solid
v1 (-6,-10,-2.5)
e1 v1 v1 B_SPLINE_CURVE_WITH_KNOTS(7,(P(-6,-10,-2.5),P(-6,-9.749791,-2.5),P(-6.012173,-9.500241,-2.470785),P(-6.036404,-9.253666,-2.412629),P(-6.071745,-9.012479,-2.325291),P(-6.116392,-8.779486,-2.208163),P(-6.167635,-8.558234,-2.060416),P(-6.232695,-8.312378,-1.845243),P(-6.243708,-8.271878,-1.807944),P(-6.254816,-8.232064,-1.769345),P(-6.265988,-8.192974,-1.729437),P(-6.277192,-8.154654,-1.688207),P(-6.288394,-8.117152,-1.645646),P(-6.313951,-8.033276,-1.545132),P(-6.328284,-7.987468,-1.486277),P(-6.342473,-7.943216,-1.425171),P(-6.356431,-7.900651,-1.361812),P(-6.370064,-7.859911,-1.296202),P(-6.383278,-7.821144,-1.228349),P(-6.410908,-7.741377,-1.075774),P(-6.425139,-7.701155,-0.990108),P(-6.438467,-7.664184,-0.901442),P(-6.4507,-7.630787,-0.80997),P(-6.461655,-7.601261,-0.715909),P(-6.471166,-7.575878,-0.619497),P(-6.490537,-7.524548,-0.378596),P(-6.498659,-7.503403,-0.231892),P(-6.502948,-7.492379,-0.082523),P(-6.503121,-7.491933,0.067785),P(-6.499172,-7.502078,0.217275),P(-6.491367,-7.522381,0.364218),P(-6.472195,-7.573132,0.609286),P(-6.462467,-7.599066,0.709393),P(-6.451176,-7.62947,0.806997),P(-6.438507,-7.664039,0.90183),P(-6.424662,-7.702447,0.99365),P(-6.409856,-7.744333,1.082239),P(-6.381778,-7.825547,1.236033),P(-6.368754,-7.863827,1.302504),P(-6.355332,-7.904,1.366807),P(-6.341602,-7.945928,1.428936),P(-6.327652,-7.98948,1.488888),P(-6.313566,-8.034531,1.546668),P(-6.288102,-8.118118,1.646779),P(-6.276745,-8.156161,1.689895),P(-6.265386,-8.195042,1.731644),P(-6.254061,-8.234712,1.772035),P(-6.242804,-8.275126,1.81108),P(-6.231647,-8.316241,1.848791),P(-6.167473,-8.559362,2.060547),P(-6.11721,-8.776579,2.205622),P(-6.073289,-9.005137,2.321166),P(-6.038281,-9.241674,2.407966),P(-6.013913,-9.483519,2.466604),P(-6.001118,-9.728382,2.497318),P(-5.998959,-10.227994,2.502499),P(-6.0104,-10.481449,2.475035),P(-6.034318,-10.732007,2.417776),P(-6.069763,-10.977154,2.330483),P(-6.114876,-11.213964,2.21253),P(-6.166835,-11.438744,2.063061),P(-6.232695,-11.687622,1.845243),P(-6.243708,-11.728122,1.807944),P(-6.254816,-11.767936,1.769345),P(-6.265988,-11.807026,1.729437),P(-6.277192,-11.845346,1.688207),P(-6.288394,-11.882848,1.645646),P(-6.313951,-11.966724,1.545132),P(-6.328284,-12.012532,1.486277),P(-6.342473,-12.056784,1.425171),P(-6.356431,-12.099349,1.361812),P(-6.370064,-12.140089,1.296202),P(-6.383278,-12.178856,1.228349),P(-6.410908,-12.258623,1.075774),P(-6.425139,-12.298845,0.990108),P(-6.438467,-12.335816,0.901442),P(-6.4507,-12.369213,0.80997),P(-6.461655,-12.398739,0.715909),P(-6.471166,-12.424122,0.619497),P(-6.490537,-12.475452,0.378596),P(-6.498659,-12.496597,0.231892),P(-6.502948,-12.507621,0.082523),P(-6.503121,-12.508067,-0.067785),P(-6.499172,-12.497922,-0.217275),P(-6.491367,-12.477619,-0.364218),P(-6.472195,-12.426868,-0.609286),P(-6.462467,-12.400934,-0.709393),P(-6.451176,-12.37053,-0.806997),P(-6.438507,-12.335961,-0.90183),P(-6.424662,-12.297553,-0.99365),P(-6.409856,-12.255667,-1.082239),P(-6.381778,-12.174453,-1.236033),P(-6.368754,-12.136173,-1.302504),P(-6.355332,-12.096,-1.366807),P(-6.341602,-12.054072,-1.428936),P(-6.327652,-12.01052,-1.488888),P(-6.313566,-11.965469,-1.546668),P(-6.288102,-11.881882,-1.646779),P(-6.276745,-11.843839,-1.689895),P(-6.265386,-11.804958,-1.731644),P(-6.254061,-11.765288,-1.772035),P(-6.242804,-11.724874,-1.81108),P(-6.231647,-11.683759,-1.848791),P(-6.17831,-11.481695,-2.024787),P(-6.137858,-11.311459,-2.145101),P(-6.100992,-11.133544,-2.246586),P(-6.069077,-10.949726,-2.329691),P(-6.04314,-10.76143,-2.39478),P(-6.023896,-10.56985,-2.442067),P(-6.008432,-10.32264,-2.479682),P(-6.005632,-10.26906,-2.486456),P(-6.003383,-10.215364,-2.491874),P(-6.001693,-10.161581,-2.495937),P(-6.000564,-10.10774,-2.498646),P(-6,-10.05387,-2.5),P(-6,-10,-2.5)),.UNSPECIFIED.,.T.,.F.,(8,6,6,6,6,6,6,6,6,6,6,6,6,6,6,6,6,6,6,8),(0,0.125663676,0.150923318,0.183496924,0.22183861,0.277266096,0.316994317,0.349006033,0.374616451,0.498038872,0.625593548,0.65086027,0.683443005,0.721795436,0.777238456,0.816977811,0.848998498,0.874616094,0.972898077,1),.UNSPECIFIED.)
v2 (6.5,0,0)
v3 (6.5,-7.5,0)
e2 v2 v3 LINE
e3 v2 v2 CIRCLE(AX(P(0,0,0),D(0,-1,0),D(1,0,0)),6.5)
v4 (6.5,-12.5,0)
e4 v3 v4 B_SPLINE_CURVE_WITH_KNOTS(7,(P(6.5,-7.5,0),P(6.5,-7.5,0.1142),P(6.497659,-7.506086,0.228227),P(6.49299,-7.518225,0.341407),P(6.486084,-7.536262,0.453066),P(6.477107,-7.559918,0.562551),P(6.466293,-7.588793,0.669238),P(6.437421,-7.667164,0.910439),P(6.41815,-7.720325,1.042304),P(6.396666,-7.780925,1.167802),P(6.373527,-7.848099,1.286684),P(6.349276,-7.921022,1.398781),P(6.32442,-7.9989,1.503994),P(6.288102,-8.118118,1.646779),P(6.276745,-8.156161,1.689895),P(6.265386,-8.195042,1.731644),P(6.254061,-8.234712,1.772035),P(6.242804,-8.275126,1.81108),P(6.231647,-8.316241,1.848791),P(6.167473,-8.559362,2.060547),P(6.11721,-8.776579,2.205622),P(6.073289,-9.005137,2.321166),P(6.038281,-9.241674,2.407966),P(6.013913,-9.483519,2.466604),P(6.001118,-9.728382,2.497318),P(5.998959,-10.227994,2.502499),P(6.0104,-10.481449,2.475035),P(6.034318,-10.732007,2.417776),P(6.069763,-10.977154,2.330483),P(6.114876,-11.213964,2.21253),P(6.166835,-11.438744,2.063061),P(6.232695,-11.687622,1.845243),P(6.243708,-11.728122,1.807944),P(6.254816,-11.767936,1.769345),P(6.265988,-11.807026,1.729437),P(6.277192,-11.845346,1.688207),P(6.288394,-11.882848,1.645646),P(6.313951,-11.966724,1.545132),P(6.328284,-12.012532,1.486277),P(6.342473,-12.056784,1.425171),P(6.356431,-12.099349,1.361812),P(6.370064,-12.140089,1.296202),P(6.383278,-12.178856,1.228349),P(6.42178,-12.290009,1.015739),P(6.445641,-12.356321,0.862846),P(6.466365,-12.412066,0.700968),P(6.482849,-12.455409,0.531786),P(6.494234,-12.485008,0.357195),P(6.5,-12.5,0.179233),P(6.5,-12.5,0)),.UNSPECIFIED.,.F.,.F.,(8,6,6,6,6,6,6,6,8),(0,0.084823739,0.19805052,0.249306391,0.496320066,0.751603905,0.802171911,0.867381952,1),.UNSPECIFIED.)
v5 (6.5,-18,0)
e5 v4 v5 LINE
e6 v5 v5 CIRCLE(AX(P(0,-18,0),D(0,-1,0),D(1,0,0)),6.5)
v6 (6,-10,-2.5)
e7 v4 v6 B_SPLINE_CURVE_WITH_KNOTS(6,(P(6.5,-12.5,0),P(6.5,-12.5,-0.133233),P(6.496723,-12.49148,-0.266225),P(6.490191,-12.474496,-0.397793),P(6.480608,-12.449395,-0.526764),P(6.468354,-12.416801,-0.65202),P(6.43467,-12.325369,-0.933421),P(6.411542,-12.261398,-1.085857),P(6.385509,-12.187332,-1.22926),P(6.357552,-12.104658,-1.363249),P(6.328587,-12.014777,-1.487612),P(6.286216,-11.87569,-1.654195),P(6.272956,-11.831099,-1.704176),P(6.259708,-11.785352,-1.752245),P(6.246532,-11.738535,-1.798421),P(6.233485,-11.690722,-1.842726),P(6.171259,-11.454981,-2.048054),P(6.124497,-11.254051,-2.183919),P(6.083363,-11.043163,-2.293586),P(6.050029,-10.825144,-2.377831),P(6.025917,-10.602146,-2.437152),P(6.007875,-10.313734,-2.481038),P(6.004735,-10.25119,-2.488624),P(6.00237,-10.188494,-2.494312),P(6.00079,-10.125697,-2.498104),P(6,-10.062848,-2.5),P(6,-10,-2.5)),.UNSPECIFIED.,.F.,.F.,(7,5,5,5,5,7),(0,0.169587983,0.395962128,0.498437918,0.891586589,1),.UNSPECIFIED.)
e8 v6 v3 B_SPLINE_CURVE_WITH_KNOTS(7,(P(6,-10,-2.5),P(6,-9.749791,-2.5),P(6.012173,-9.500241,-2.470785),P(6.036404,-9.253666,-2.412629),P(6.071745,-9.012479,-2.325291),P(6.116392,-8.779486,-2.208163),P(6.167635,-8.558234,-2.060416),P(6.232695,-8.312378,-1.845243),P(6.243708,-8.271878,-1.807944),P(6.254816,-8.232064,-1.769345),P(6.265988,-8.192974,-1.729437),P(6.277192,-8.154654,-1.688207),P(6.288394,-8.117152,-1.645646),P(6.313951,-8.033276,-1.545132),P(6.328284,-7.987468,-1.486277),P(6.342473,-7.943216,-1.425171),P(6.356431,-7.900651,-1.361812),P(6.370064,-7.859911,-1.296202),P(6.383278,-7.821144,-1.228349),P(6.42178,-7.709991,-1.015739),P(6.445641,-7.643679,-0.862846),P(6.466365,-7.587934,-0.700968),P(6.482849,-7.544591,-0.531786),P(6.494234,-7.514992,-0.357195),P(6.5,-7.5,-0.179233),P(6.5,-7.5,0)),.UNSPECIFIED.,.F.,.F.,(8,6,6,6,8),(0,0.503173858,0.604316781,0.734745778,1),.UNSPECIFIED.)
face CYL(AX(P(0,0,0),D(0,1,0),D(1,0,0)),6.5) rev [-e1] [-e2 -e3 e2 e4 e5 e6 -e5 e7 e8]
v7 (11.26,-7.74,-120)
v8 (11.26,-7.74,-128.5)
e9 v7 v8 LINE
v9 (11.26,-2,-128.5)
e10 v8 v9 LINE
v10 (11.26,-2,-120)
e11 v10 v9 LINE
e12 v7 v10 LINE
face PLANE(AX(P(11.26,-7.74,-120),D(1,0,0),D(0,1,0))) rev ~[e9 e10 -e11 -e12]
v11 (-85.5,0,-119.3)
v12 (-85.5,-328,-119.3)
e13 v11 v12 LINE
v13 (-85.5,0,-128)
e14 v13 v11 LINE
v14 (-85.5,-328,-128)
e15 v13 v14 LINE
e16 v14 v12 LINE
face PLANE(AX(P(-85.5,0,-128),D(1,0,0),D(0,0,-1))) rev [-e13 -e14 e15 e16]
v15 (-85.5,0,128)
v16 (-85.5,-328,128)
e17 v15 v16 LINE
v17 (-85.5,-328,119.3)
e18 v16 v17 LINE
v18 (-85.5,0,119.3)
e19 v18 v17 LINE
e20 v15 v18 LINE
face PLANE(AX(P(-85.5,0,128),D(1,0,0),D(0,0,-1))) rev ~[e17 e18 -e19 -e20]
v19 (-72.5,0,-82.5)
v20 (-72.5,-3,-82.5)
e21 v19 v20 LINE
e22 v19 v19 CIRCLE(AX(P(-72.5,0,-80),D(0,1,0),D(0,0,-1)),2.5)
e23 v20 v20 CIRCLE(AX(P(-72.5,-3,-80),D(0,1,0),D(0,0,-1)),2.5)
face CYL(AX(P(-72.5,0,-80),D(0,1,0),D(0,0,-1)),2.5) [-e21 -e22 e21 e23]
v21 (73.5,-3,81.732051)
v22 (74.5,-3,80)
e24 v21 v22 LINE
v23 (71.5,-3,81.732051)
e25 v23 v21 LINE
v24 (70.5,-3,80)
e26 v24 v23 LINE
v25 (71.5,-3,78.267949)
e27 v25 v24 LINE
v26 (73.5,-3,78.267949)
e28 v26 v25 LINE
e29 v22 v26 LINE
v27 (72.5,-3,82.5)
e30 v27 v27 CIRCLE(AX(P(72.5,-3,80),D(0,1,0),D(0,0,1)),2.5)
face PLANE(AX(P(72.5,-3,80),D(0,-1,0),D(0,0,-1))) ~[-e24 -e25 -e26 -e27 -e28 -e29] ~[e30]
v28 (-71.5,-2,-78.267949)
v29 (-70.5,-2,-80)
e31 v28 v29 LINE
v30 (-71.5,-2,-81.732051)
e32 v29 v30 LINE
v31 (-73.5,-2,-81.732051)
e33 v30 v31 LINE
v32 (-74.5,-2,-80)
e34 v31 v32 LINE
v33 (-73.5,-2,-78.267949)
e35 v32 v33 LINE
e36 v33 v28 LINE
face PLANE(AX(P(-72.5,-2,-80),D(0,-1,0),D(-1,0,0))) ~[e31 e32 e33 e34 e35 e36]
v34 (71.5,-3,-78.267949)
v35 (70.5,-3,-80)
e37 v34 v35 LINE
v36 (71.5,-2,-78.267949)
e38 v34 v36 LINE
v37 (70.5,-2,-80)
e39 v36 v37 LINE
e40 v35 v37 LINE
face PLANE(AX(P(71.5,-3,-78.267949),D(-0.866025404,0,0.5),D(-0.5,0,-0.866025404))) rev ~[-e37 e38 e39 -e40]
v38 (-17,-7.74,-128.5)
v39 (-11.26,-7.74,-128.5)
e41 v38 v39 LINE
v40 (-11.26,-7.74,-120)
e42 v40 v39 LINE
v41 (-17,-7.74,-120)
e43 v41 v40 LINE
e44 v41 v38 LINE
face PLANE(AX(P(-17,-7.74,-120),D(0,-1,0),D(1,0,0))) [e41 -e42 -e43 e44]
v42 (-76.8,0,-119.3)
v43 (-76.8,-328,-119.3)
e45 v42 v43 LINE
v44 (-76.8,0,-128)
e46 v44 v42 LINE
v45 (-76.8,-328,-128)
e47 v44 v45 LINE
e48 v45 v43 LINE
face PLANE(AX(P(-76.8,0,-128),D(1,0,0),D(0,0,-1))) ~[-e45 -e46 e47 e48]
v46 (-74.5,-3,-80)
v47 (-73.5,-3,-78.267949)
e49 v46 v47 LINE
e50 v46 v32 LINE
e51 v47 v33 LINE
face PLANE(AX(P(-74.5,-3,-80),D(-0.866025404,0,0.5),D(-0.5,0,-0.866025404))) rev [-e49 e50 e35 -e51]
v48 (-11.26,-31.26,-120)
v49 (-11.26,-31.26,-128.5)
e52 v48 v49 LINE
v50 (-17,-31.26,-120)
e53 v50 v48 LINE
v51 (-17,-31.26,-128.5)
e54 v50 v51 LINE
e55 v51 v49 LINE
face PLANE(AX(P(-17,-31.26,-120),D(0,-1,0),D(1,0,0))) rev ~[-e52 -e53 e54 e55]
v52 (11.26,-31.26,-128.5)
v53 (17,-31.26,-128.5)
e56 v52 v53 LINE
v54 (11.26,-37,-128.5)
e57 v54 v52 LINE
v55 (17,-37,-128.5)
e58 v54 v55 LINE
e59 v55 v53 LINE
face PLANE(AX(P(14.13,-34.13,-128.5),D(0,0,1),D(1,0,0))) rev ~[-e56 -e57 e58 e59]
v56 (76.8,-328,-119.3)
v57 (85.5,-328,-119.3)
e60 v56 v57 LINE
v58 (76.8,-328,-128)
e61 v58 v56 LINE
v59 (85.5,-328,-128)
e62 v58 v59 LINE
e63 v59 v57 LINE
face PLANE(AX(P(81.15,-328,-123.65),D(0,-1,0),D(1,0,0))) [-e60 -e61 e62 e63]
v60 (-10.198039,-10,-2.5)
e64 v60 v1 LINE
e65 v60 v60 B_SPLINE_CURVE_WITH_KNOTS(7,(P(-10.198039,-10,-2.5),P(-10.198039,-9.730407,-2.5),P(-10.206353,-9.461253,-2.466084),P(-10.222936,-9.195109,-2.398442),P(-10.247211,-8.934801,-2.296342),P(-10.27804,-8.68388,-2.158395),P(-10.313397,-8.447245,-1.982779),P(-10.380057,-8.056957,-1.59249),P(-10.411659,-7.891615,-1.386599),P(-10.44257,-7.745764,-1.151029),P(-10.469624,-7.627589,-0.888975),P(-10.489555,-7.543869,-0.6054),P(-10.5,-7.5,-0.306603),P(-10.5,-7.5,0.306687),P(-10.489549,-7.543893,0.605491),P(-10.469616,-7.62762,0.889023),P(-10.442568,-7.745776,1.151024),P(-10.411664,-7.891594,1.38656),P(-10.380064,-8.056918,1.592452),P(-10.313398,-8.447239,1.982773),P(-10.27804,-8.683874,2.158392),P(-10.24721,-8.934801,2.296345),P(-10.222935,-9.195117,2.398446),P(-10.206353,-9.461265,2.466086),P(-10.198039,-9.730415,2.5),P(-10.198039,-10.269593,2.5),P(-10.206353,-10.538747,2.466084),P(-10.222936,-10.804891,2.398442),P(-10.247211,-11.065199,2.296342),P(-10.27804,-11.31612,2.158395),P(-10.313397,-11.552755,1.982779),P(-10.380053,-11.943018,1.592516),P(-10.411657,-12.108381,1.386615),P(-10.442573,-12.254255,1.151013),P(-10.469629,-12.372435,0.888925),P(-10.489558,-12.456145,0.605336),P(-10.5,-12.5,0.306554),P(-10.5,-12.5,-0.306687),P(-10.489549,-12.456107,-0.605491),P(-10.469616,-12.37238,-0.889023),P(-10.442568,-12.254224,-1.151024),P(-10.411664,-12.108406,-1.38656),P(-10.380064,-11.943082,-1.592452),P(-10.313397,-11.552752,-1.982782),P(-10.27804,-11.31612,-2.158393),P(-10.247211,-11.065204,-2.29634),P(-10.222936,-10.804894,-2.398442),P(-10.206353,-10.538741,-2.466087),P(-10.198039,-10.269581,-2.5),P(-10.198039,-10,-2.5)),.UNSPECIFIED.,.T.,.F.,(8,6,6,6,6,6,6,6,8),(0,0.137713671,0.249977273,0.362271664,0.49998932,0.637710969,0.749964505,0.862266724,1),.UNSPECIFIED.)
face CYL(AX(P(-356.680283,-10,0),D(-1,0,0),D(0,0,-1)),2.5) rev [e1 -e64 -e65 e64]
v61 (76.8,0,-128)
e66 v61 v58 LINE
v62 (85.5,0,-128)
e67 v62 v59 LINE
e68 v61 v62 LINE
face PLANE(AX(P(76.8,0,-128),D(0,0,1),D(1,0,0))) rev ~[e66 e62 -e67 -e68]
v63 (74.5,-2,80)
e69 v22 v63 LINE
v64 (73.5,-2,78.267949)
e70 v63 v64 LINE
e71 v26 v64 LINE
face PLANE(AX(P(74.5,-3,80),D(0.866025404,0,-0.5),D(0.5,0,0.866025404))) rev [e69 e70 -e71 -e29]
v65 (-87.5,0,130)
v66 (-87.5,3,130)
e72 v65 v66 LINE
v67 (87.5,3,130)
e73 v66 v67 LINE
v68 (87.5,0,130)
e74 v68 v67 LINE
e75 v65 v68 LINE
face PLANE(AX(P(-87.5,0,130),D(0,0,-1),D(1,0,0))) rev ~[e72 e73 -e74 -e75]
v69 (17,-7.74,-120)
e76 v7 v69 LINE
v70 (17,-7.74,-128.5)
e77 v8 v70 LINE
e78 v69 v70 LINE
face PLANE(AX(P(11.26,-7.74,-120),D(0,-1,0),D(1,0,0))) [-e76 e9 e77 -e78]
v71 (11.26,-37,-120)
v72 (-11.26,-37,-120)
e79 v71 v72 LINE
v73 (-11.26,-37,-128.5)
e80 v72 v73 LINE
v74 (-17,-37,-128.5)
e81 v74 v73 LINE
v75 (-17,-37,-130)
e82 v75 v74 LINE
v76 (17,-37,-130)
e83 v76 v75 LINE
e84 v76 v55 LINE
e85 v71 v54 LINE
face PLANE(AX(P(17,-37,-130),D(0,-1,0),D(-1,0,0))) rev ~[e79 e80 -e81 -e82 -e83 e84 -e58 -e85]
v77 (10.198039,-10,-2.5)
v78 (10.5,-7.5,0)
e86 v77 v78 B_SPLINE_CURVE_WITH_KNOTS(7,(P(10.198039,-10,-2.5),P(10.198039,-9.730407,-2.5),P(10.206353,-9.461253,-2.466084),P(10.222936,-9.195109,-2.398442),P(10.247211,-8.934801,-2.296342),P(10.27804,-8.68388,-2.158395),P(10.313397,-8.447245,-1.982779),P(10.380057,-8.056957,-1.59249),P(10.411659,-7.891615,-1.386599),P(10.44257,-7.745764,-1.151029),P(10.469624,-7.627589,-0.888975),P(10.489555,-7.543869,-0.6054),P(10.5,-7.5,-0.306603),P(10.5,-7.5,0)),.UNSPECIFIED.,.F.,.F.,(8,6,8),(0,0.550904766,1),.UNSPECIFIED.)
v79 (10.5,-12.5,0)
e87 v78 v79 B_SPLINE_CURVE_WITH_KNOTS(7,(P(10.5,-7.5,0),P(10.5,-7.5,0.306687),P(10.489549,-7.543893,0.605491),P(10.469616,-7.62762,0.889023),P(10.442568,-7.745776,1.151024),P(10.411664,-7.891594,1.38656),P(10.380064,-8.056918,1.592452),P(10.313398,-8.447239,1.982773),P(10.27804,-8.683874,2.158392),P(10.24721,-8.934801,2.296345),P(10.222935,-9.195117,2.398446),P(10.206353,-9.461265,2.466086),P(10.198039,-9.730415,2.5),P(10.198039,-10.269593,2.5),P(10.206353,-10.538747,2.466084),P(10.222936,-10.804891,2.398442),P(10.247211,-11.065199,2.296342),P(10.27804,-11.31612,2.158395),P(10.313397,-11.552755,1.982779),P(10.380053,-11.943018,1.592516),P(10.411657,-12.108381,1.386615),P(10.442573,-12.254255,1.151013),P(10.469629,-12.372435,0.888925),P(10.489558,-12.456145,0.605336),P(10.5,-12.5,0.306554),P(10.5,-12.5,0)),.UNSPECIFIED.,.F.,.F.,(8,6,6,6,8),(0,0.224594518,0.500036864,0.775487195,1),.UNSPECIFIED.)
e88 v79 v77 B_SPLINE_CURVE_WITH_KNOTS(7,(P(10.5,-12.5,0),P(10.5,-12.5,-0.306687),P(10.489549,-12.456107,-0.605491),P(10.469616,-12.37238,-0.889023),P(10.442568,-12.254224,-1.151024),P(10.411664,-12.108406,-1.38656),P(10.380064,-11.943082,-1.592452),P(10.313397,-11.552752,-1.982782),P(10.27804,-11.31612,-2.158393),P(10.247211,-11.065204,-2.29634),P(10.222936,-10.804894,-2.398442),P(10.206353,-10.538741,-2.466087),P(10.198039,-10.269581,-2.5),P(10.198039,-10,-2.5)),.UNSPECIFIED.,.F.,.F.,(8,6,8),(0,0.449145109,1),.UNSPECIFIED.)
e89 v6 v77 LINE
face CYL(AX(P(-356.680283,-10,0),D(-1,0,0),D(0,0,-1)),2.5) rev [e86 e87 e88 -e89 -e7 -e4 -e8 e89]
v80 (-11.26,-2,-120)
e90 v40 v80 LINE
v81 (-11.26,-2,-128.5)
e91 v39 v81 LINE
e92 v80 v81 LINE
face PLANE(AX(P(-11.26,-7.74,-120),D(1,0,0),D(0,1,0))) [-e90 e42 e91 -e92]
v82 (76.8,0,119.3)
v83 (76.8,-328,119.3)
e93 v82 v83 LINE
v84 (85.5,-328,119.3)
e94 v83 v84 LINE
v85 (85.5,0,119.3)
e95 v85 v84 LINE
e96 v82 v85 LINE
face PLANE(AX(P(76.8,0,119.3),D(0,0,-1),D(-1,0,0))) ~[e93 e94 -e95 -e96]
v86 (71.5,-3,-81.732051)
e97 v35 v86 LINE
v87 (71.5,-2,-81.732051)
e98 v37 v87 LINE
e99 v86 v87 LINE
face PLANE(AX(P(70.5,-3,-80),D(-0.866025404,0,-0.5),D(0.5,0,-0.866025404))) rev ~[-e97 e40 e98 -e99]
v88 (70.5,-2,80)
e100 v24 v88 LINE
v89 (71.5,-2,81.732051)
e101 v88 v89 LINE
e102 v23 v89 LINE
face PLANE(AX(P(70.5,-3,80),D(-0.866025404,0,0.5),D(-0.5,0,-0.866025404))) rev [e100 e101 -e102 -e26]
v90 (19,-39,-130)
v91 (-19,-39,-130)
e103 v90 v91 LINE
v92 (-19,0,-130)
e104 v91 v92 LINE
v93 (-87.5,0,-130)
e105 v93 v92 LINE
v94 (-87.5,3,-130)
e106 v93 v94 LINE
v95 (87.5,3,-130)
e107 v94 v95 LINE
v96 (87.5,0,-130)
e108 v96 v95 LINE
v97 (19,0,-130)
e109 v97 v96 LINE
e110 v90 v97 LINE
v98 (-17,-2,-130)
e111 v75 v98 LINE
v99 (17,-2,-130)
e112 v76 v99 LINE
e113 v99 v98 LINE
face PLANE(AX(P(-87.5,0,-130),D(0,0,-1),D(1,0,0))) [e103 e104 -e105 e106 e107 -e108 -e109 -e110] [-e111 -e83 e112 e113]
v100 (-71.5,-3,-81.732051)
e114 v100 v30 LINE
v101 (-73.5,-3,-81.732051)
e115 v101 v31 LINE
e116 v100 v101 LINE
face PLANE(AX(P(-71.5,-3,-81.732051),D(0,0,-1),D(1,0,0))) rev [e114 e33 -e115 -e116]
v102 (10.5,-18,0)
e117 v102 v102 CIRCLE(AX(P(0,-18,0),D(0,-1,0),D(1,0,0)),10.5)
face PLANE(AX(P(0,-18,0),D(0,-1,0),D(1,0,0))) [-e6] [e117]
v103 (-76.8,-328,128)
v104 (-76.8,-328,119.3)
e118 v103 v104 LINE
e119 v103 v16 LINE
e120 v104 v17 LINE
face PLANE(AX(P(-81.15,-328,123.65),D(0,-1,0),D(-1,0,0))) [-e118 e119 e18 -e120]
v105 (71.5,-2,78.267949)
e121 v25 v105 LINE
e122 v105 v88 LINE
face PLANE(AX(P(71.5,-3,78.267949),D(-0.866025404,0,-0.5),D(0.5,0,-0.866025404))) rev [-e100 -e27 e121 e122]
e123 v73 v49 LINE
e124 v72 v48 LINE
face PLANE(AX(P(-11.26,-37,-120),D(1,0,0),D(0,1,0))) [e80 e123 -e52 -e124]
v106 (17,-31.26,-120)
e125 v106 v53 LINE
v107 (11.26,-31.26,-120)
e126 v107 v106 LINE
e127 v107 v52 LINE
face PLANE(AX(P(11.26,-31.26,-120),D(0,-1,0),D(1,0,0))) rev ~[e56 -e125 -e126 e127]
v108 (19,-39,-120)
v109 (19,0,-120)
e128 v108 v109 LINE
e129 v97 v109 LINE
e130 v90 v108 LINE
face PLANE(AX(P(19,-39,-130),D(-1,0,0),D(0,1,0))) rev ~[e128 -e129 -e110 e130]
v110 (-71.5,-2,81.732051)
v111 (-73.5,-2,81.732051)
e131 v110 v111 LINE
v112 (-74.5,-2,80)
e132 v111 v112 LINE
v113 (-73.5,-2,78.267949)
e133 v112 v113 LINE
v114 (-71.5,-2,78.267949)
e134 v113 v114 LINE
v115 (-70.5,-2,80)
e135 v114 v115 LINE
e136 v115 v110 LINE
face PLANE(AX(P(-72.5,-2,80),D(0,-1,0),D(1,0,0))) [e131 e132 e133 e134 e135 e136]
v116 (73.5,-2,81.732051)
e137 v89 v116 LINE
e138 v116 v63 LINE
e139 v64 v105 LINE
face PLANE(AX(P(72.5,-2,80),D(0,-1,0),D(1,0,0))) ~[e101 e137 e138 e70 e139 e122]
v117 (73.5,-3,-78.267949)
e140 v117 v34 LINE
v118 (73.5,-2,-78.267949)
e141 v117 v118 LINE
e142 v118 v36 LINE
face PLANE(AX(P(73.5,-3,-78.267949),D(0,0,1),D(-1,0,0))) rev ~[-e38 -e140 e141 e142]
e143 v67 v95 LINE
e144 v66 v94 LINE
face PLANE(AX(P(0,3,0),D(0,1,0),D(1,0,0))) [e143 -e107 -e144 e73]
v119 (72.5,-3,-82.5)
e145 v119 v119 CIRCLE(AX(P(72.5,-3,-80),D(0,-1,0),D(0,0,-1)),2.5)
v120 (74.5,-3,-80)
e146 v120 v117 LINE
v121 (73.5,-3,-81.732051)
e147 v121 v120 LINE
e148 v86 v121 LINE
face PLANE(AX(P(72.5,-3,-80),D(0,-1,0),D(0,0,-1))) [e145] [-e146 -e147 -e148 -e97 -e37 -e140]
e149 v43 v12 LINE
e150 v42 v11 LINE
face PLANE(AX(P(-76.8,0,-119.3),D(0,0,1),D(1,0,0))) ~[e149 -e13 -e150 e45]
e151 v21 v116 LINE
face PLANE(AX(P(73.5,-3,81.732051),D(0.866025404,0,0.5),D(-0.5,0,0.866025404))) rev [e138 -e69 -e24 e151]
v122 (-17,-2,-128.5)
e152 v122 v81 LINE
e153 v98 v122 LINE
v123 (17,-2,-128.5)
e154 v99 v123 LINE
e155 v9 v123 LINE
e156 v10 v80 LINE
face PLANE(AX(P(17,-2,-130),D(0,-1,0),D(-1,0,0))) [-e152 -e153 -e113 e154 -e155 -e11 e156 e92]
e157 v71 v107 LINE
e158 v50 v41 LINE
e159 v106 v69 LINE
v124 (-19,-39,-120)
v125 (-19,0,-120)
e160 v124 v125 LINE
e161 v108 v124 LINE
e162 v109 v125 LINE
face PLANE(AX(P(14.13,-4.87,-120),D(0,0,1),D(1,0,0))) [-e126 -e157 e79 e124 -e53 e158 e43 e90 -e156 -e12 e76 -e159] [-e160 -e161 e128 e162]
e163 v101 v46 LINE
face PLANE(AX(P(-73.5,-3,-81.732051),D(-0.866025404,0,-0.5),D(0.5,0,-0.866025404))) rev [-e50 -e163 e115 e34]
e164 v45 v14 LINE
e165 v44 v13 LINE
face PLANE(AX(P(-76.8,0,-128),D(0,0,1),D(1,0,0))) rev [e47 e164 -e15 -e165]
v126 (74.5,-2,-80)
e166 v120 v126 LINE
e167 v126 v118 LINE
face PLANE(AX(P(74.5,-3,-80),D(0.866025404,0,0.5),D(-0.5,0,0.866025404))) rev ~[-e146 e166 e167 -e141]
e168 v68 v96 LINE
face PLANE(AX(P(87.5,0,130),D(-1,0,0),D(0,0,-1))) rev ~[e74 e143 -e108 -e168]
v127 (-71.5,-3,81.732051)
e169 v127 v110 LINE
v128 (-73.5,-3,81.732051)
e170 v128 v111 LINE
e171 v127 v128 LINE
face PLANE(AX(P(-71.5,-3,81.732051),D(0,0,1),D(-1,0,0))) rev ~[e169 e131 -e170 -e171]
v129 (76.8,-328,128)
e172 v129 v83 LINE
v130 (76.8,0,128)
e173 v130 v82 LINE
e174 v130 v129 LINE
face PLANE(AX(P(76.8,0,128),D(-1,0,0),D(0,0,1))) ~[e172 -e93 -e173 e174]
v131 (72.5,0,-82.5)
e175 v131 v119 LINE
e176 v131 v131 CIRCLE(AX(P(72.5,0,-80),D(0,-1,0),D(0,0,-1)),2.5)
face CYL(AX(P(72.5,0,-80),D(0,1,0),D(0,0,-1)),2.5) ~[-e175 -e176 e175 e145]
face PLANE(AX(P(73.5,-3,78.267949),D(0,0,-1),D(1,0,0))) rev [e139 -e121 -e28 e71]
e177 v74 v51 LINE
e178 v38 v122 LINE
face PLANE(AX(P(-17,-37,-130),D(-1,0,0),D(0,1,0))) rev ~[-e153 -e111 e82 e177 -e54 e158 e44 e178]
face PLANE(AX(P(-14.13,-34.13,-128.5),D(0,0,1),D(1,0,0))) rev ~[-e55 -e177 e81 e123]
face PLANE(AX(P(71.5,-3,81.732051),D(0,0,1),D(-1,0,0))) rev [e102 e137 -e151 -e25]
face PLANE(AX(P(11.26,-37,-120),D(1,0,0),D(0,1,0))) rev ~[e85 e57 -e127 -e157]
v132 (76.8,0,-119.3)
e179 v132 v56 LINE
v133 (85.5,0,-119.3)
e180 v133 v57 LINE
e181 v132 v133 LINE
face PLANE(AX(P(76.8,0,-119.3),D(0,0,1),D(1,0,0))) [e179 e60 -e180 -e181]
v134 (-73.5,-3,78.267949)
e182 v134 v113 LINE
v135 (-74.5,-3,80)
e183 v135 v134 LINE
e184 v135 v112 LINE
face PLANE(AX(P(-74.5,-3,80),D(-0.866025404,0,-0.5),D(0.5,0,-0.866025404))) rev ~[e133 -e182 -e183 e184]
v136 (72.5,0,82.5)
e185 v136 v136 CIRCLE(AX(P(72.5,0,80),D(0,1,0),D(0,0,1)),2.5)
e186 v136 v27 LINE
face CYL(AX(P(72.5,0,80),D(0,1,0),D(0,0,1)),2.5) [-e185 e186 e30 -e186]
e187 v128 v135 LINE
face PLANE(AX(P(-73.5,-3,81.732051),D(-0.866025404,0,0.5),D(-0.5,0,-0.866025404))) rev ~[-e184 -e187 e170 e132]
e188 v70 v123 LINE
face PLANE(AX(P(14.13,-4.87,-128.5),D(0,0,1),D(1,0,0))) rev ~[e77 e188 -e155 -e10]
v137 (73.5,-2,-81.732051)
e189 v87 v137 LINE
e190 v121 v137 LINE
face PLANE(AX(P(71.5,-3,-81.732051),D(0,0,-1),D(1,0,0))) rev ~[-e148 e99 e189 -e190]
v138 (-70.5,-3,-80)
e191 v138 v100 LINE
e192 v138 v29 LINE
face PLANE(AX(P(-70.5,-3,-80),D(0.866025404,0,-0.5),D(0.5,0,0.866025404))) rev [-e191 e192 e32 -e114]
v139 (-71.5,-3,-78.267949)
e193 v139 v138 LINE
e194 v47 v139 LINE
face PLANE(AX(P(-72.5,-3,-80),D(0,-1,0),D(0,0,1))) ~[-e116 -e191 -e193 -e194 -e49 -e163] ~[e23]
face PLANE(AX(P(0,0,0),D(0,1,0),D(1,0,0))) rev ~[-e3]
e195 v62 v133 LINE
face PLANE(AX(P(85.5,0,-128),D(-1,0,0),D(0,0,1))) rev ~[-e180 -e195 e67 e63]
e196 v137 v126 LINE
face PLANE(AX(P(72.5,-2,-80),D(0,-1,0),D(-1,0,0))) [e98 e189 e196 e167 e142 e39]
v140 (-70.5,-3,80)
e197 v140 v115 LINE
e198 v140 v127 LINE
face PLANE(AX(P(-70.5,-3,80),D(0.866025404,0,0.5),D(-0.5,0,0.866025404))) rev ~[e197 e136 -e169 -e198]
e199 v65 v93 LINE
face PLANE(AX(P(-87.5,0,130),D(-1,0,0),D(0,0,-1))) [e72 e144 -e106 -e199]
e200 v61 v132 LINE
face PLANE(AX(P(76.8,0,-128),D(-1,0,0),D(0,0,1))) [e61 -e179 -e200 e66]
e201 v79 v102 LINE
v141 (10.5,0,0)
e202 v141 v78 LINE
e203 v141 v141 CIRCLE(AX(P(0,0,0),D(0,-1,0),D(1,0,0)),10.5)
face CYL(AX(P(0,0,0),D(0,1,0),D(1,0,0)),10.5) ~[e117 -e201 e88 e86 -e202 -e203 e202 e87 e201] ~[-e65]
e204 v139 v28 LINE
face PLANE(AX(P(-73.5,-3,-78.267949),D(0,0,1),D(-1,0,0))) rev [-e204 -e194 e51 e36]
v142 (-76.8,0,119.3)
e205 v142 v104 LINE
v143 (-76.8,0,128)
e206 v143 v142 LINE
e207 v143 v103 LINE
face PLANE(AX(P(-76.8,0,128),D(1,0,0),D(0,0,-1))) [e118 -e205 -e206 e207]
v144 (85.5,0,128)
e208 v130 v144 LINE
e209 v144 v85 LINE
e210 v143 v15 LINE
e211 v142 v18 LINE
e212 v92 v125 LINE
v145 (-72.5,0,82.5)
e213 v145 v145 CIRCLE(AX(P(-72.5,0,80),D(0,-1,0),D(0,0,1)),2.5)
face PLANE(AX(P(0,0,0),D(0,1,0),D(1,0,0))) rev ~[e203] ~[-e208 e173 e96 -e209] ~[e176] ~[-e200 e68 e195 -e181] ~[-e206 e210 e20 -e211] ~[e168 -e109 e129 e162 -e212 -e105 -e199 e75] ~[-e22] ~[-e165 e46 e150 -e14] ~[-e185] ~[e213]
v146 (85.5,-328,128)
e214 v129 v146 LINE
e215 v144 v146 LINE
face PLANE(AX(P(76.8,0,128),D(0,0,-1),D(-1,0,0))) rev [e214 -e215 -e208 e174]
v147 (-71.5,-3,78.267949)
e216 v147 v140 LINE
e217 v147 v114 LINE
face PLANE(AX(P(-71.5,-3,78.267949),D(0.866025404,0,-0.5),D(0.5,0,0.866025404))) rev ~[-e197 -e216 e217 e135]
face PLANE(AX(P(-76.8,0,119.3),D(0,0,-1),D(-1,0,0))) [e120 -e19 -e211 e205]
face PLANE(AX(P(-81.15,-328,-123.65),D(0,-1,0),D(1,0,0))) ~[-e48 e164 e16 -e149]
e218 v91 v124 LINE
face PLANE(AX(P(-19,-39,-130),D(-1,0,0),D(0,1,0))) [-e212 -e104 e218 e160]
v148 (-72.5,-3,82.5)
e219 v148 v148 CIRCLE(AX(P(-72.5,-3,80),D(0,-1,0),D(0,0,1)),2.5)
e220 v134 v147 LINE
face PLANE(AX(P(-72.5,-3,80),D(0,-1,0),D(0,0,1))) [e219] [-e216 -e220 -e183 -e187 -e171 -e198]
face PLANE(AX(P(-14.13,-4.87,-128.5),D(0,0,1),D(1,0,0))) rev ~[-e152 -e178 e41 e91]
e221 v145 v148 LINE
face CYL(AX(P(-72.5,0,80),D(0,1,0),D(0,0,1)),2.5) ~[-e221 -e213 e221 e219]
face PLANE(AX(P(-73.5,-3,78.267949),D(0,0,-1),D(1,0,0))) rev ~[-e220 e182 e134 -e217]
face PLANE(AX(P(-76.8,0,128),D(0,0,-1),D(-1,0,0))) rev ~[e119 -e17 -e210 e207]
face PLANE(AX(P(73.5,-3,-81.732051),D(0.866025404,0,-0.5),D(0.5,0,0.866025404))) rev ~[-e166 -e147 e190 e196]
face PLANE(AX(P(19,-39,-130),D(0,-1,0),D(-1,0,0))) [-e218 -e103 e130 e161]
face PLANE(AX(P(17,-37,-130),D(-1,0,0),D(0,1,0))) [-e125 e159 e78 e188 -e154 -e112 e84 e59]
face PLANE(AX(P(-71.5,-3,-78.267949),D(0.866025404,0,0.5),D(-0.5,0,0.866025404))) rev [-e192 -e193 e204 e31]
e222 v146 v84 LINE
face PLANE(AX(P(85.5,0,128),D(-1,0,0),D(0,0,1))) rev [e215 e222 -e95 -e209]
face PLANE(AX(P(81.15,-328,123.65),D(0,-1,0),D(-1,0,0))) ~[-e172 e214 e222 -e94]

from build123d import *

# Parameters (mm, degrees)
SKETCH1_W               = 175
SKETCH1_H               = 260
BOSS_EXTRUDE1_DEPTH     = 3
SKETCH4_W               = 8.7
SKETCH4_H               = 8.7
BOSS_EXTRUDE3_DEPTH     = 328
MIRROR5_COPY_1_SKETCH_W = 8.7
MIRROR5_COPY_1_SKETCH_H = 8.7
MIRROR5_COPY_1_DEPTH    = 328
SKETCH6_W               = 38
SKETCH6_H               = 39
SKETCH6_W_2             = 34
SKETCH6_H_2             = 35
EXTRUDE_THIN1_DEPTH     = 10
SKETCH7_W               = 5.74
SKETCH7_H               = 5.74
BOSS_EXTRUDE5_DEPTH     = 8.5
SKETCH9_R               = 10.5
SKETCH9_R_2             = 6.5
EXTRUDE_THIN2_DEPTH     = 18
CUT_EXTRUDE1_DEPTH      = 367.180283467
CUT_EXTRUDE1_DEPTH_BACK = 367.180283467
SKETCH10_R              = 2.5
SKETCH11_R              = 2.5
BOSS_EXTRUDE6_DEPTH     = 3
CUT_EXTRUDE2_DEPTH      = 1
MIRROR7_COPY_1_SKETCH_R = 2.5
MIRROR7_COPY_1_DEPTH    = 3
MIRROR7_COPY_2_DEPTH    = 1


with BuildPart() as part:
    # Sketch1 → Boss-Extrude1 (new body)
    with BuildSketch(Plane(origin=(0, 0, 0), x_dir=(1, 0, 0), z_dir=(0, 1, 0))):
        Rectangle(SKETCH1_W, SKETCH1_H)
    extrude(amount=BOSS_EXTRUDE1_DEPTH)

    # Sketch4 → Boss-Extrude3 (add)
    with BuildSketch(Plane.XZ):
        with Locations((81.15, -123.65)):
            Rectangle(SKETCH4_W, SKETCH4_H)
    boss_extrude3 = extrude(amount=BOSS_EXTRUDE3_DEPTH)

    # Mirror3: Boss-Extrude3 across plane
    add(boss_extrude3.mirror(Plane.XY))

    # Mirror5: Boss-Extrude3 across plane
    add(boss_extrude3.mirror(Plane(origin=(0, 0, 0), x_dir=(0, 0, 1), z_dir=(1, 0, 0))))

    # Mirror5 copy 1 sketch → Mirror5 copy 1 (add)
    with BuildSketch(Plane(origin=(0, 0, 0), x_dir=(-1, 0, 0), z_dir=(0, -1, 0))):
        with Locations((81.15, -123.65)):
            Rectangle(MIRROR5_COPY_1_SKETCH_W, MIRROR5_COPY_1_SKETCH_H)
    extrude(amount=MIRROR5_COPY_1_DEPTH)

    # Sketch6 → Extrude-Thin1 (add)
    with BuildSketch(Plane(origin=(0, 0, -130), x_dir=(-1, 0, 0), z_dir=(0, 0, -1))):
        with Locations((0, -19.5)):
            Rectangle(SKETCH6_W, SKETCH6_H)
        with Locations((0, -19.5)):
            Rectangle(SKETCH6_W_2, SKETCH6_H_2, mode=Mode.SUBTRACT)
    extrude(amount=-EXTRUDE_THIN1_DEPTH)

    # Sketch7 → Boss-Extrude5 (add)
    with BuildSketch(Plane.XY.offset(-120)):
        with Locations((14.13, -4.87)):
            Rectangle(SKETCH7_W, SKETCH7_H)
        with Locations((-14.13, -4.87)):
            Rectangle(SKETCH7_W, SKETCH7_H)
        with Locations((-14.13, -34.13)):
            Rectangle(SKETCH7_W, SKETCH7_H)
        with Locations((14.13, -34.13)):
            Rectangle(SKETCH7_W, SKETCH7_H)
    extrude(amount=-BOSS_EXTRUDE5_DEPTH)

    # Sketch9 → Extrude-Thin2 (add)
    with BuildSketch(Plane.XZ):
        Circle(SKETCH9_R)
        Circle(SKETCH9_R_2, mode=Mode.SUBTRACT)
    extrude(amount=EXTRUDE_THIN2_DEPTH)

    # Sketch10 → Cut-Extrude1 (cut, two sides: drawn at the far end of the back side and taken through both)
    with BuildSketch(Plane(origin=(10.5, 0, 0), x_dir=(0, 0, -1), z_dir=(1, 0, 0)).offset(-CUT_EXTRUDE1_DEPTH_BACK)):
        with Locations((0, -10)):
            Circle(SKETCH10_R)
    extrude(amount=CUT_EXTRUDE1_DEPTH + CUT_EXTRUDE1_DEPTH_BACK, mode=Mode.SUBTRACT)

    # Sketch11 → Boss-Extrude6 (add)
    with BuildSketch(Plane.XZ):
        with Locations(Location((-72.5, 80, 0), (0, 0, 90))):
            Circle(SKETCH11_R)
    boss_extrude6 = extrude(amount=BOSS_EXTRUDE6_DEPTH)

    # Sketch12 → Cut-Extrude2 (cut)
    with BuildSketch(Plane.XZ.offset(3)):
        Polygon((-70.5, 80), (-71.5, 81.732050808), (-73.5, 81.732050808), (-74.5, 80), (-73.5, 78.267949192), (-71.5, 78.267949192), align=None)
    cut_extrude2 = extrude(amount=-CUT_EXTRUDE2_DEPTH, mode=Mode.SUBTRACT)

    # Mirror6: Boss-Extrude6, Cut-Extrude2 across plane
    add(boss_extrude6.mirror(Plane(origin=(0, 0, 0), x_dir=(0, 0, 1), z_dir=(1, 0, 0))))
    add(cut_extrude2.mirror(Plane(origin=(0, 0, 0), x_dir=(0, 0, 1), z_dir=(1, 0, 0))), mode=Mode.SUBTRACT)

    # Mirror7: Boss-Extrude6, Cut-Extrude2 across plane
    add(boss_extrude6.mirror(Plane.XY))
    add(cut_extrude2.mirror(Plane.XY), mode=Mode.SUBTRACT)

    # Mirror7 copy 1 sketch → Mirror7 copy 1 (add)
    with BuildSketch(Plane(origin=(0, 0, 0), x_dir=(-1, 0, 0), z_dir=(0, -1, 0))):
        with Locations(Location((-72.5, 80, 0), (0, 0, 90))):
            Circle(MIRROR7_COPY_1_SKETCH_R)
    extrude(amount=MIRROR7_COPY_1_DEPTH)

    # Mirror7 copy 2 sketch → Mirror7 copy 2 (cut)
    with BuildSketch(Plane(origin=(0, -3, 0), x_dir=(-1, 0, 0), z_dir=(0, -1, 0))):
        Polygon((-70.5, 80), (-71.5, 81.732050808), (-73.5, 81.732050808), (-74.5, 80), (-73.5, 78.267949192), (-71.5, 78.267949192), align=None)
    extrude(amount=-MIRROR7_COPY_2_DEPTH, mode=Mode.SUBTRACT)


solid = part.part
